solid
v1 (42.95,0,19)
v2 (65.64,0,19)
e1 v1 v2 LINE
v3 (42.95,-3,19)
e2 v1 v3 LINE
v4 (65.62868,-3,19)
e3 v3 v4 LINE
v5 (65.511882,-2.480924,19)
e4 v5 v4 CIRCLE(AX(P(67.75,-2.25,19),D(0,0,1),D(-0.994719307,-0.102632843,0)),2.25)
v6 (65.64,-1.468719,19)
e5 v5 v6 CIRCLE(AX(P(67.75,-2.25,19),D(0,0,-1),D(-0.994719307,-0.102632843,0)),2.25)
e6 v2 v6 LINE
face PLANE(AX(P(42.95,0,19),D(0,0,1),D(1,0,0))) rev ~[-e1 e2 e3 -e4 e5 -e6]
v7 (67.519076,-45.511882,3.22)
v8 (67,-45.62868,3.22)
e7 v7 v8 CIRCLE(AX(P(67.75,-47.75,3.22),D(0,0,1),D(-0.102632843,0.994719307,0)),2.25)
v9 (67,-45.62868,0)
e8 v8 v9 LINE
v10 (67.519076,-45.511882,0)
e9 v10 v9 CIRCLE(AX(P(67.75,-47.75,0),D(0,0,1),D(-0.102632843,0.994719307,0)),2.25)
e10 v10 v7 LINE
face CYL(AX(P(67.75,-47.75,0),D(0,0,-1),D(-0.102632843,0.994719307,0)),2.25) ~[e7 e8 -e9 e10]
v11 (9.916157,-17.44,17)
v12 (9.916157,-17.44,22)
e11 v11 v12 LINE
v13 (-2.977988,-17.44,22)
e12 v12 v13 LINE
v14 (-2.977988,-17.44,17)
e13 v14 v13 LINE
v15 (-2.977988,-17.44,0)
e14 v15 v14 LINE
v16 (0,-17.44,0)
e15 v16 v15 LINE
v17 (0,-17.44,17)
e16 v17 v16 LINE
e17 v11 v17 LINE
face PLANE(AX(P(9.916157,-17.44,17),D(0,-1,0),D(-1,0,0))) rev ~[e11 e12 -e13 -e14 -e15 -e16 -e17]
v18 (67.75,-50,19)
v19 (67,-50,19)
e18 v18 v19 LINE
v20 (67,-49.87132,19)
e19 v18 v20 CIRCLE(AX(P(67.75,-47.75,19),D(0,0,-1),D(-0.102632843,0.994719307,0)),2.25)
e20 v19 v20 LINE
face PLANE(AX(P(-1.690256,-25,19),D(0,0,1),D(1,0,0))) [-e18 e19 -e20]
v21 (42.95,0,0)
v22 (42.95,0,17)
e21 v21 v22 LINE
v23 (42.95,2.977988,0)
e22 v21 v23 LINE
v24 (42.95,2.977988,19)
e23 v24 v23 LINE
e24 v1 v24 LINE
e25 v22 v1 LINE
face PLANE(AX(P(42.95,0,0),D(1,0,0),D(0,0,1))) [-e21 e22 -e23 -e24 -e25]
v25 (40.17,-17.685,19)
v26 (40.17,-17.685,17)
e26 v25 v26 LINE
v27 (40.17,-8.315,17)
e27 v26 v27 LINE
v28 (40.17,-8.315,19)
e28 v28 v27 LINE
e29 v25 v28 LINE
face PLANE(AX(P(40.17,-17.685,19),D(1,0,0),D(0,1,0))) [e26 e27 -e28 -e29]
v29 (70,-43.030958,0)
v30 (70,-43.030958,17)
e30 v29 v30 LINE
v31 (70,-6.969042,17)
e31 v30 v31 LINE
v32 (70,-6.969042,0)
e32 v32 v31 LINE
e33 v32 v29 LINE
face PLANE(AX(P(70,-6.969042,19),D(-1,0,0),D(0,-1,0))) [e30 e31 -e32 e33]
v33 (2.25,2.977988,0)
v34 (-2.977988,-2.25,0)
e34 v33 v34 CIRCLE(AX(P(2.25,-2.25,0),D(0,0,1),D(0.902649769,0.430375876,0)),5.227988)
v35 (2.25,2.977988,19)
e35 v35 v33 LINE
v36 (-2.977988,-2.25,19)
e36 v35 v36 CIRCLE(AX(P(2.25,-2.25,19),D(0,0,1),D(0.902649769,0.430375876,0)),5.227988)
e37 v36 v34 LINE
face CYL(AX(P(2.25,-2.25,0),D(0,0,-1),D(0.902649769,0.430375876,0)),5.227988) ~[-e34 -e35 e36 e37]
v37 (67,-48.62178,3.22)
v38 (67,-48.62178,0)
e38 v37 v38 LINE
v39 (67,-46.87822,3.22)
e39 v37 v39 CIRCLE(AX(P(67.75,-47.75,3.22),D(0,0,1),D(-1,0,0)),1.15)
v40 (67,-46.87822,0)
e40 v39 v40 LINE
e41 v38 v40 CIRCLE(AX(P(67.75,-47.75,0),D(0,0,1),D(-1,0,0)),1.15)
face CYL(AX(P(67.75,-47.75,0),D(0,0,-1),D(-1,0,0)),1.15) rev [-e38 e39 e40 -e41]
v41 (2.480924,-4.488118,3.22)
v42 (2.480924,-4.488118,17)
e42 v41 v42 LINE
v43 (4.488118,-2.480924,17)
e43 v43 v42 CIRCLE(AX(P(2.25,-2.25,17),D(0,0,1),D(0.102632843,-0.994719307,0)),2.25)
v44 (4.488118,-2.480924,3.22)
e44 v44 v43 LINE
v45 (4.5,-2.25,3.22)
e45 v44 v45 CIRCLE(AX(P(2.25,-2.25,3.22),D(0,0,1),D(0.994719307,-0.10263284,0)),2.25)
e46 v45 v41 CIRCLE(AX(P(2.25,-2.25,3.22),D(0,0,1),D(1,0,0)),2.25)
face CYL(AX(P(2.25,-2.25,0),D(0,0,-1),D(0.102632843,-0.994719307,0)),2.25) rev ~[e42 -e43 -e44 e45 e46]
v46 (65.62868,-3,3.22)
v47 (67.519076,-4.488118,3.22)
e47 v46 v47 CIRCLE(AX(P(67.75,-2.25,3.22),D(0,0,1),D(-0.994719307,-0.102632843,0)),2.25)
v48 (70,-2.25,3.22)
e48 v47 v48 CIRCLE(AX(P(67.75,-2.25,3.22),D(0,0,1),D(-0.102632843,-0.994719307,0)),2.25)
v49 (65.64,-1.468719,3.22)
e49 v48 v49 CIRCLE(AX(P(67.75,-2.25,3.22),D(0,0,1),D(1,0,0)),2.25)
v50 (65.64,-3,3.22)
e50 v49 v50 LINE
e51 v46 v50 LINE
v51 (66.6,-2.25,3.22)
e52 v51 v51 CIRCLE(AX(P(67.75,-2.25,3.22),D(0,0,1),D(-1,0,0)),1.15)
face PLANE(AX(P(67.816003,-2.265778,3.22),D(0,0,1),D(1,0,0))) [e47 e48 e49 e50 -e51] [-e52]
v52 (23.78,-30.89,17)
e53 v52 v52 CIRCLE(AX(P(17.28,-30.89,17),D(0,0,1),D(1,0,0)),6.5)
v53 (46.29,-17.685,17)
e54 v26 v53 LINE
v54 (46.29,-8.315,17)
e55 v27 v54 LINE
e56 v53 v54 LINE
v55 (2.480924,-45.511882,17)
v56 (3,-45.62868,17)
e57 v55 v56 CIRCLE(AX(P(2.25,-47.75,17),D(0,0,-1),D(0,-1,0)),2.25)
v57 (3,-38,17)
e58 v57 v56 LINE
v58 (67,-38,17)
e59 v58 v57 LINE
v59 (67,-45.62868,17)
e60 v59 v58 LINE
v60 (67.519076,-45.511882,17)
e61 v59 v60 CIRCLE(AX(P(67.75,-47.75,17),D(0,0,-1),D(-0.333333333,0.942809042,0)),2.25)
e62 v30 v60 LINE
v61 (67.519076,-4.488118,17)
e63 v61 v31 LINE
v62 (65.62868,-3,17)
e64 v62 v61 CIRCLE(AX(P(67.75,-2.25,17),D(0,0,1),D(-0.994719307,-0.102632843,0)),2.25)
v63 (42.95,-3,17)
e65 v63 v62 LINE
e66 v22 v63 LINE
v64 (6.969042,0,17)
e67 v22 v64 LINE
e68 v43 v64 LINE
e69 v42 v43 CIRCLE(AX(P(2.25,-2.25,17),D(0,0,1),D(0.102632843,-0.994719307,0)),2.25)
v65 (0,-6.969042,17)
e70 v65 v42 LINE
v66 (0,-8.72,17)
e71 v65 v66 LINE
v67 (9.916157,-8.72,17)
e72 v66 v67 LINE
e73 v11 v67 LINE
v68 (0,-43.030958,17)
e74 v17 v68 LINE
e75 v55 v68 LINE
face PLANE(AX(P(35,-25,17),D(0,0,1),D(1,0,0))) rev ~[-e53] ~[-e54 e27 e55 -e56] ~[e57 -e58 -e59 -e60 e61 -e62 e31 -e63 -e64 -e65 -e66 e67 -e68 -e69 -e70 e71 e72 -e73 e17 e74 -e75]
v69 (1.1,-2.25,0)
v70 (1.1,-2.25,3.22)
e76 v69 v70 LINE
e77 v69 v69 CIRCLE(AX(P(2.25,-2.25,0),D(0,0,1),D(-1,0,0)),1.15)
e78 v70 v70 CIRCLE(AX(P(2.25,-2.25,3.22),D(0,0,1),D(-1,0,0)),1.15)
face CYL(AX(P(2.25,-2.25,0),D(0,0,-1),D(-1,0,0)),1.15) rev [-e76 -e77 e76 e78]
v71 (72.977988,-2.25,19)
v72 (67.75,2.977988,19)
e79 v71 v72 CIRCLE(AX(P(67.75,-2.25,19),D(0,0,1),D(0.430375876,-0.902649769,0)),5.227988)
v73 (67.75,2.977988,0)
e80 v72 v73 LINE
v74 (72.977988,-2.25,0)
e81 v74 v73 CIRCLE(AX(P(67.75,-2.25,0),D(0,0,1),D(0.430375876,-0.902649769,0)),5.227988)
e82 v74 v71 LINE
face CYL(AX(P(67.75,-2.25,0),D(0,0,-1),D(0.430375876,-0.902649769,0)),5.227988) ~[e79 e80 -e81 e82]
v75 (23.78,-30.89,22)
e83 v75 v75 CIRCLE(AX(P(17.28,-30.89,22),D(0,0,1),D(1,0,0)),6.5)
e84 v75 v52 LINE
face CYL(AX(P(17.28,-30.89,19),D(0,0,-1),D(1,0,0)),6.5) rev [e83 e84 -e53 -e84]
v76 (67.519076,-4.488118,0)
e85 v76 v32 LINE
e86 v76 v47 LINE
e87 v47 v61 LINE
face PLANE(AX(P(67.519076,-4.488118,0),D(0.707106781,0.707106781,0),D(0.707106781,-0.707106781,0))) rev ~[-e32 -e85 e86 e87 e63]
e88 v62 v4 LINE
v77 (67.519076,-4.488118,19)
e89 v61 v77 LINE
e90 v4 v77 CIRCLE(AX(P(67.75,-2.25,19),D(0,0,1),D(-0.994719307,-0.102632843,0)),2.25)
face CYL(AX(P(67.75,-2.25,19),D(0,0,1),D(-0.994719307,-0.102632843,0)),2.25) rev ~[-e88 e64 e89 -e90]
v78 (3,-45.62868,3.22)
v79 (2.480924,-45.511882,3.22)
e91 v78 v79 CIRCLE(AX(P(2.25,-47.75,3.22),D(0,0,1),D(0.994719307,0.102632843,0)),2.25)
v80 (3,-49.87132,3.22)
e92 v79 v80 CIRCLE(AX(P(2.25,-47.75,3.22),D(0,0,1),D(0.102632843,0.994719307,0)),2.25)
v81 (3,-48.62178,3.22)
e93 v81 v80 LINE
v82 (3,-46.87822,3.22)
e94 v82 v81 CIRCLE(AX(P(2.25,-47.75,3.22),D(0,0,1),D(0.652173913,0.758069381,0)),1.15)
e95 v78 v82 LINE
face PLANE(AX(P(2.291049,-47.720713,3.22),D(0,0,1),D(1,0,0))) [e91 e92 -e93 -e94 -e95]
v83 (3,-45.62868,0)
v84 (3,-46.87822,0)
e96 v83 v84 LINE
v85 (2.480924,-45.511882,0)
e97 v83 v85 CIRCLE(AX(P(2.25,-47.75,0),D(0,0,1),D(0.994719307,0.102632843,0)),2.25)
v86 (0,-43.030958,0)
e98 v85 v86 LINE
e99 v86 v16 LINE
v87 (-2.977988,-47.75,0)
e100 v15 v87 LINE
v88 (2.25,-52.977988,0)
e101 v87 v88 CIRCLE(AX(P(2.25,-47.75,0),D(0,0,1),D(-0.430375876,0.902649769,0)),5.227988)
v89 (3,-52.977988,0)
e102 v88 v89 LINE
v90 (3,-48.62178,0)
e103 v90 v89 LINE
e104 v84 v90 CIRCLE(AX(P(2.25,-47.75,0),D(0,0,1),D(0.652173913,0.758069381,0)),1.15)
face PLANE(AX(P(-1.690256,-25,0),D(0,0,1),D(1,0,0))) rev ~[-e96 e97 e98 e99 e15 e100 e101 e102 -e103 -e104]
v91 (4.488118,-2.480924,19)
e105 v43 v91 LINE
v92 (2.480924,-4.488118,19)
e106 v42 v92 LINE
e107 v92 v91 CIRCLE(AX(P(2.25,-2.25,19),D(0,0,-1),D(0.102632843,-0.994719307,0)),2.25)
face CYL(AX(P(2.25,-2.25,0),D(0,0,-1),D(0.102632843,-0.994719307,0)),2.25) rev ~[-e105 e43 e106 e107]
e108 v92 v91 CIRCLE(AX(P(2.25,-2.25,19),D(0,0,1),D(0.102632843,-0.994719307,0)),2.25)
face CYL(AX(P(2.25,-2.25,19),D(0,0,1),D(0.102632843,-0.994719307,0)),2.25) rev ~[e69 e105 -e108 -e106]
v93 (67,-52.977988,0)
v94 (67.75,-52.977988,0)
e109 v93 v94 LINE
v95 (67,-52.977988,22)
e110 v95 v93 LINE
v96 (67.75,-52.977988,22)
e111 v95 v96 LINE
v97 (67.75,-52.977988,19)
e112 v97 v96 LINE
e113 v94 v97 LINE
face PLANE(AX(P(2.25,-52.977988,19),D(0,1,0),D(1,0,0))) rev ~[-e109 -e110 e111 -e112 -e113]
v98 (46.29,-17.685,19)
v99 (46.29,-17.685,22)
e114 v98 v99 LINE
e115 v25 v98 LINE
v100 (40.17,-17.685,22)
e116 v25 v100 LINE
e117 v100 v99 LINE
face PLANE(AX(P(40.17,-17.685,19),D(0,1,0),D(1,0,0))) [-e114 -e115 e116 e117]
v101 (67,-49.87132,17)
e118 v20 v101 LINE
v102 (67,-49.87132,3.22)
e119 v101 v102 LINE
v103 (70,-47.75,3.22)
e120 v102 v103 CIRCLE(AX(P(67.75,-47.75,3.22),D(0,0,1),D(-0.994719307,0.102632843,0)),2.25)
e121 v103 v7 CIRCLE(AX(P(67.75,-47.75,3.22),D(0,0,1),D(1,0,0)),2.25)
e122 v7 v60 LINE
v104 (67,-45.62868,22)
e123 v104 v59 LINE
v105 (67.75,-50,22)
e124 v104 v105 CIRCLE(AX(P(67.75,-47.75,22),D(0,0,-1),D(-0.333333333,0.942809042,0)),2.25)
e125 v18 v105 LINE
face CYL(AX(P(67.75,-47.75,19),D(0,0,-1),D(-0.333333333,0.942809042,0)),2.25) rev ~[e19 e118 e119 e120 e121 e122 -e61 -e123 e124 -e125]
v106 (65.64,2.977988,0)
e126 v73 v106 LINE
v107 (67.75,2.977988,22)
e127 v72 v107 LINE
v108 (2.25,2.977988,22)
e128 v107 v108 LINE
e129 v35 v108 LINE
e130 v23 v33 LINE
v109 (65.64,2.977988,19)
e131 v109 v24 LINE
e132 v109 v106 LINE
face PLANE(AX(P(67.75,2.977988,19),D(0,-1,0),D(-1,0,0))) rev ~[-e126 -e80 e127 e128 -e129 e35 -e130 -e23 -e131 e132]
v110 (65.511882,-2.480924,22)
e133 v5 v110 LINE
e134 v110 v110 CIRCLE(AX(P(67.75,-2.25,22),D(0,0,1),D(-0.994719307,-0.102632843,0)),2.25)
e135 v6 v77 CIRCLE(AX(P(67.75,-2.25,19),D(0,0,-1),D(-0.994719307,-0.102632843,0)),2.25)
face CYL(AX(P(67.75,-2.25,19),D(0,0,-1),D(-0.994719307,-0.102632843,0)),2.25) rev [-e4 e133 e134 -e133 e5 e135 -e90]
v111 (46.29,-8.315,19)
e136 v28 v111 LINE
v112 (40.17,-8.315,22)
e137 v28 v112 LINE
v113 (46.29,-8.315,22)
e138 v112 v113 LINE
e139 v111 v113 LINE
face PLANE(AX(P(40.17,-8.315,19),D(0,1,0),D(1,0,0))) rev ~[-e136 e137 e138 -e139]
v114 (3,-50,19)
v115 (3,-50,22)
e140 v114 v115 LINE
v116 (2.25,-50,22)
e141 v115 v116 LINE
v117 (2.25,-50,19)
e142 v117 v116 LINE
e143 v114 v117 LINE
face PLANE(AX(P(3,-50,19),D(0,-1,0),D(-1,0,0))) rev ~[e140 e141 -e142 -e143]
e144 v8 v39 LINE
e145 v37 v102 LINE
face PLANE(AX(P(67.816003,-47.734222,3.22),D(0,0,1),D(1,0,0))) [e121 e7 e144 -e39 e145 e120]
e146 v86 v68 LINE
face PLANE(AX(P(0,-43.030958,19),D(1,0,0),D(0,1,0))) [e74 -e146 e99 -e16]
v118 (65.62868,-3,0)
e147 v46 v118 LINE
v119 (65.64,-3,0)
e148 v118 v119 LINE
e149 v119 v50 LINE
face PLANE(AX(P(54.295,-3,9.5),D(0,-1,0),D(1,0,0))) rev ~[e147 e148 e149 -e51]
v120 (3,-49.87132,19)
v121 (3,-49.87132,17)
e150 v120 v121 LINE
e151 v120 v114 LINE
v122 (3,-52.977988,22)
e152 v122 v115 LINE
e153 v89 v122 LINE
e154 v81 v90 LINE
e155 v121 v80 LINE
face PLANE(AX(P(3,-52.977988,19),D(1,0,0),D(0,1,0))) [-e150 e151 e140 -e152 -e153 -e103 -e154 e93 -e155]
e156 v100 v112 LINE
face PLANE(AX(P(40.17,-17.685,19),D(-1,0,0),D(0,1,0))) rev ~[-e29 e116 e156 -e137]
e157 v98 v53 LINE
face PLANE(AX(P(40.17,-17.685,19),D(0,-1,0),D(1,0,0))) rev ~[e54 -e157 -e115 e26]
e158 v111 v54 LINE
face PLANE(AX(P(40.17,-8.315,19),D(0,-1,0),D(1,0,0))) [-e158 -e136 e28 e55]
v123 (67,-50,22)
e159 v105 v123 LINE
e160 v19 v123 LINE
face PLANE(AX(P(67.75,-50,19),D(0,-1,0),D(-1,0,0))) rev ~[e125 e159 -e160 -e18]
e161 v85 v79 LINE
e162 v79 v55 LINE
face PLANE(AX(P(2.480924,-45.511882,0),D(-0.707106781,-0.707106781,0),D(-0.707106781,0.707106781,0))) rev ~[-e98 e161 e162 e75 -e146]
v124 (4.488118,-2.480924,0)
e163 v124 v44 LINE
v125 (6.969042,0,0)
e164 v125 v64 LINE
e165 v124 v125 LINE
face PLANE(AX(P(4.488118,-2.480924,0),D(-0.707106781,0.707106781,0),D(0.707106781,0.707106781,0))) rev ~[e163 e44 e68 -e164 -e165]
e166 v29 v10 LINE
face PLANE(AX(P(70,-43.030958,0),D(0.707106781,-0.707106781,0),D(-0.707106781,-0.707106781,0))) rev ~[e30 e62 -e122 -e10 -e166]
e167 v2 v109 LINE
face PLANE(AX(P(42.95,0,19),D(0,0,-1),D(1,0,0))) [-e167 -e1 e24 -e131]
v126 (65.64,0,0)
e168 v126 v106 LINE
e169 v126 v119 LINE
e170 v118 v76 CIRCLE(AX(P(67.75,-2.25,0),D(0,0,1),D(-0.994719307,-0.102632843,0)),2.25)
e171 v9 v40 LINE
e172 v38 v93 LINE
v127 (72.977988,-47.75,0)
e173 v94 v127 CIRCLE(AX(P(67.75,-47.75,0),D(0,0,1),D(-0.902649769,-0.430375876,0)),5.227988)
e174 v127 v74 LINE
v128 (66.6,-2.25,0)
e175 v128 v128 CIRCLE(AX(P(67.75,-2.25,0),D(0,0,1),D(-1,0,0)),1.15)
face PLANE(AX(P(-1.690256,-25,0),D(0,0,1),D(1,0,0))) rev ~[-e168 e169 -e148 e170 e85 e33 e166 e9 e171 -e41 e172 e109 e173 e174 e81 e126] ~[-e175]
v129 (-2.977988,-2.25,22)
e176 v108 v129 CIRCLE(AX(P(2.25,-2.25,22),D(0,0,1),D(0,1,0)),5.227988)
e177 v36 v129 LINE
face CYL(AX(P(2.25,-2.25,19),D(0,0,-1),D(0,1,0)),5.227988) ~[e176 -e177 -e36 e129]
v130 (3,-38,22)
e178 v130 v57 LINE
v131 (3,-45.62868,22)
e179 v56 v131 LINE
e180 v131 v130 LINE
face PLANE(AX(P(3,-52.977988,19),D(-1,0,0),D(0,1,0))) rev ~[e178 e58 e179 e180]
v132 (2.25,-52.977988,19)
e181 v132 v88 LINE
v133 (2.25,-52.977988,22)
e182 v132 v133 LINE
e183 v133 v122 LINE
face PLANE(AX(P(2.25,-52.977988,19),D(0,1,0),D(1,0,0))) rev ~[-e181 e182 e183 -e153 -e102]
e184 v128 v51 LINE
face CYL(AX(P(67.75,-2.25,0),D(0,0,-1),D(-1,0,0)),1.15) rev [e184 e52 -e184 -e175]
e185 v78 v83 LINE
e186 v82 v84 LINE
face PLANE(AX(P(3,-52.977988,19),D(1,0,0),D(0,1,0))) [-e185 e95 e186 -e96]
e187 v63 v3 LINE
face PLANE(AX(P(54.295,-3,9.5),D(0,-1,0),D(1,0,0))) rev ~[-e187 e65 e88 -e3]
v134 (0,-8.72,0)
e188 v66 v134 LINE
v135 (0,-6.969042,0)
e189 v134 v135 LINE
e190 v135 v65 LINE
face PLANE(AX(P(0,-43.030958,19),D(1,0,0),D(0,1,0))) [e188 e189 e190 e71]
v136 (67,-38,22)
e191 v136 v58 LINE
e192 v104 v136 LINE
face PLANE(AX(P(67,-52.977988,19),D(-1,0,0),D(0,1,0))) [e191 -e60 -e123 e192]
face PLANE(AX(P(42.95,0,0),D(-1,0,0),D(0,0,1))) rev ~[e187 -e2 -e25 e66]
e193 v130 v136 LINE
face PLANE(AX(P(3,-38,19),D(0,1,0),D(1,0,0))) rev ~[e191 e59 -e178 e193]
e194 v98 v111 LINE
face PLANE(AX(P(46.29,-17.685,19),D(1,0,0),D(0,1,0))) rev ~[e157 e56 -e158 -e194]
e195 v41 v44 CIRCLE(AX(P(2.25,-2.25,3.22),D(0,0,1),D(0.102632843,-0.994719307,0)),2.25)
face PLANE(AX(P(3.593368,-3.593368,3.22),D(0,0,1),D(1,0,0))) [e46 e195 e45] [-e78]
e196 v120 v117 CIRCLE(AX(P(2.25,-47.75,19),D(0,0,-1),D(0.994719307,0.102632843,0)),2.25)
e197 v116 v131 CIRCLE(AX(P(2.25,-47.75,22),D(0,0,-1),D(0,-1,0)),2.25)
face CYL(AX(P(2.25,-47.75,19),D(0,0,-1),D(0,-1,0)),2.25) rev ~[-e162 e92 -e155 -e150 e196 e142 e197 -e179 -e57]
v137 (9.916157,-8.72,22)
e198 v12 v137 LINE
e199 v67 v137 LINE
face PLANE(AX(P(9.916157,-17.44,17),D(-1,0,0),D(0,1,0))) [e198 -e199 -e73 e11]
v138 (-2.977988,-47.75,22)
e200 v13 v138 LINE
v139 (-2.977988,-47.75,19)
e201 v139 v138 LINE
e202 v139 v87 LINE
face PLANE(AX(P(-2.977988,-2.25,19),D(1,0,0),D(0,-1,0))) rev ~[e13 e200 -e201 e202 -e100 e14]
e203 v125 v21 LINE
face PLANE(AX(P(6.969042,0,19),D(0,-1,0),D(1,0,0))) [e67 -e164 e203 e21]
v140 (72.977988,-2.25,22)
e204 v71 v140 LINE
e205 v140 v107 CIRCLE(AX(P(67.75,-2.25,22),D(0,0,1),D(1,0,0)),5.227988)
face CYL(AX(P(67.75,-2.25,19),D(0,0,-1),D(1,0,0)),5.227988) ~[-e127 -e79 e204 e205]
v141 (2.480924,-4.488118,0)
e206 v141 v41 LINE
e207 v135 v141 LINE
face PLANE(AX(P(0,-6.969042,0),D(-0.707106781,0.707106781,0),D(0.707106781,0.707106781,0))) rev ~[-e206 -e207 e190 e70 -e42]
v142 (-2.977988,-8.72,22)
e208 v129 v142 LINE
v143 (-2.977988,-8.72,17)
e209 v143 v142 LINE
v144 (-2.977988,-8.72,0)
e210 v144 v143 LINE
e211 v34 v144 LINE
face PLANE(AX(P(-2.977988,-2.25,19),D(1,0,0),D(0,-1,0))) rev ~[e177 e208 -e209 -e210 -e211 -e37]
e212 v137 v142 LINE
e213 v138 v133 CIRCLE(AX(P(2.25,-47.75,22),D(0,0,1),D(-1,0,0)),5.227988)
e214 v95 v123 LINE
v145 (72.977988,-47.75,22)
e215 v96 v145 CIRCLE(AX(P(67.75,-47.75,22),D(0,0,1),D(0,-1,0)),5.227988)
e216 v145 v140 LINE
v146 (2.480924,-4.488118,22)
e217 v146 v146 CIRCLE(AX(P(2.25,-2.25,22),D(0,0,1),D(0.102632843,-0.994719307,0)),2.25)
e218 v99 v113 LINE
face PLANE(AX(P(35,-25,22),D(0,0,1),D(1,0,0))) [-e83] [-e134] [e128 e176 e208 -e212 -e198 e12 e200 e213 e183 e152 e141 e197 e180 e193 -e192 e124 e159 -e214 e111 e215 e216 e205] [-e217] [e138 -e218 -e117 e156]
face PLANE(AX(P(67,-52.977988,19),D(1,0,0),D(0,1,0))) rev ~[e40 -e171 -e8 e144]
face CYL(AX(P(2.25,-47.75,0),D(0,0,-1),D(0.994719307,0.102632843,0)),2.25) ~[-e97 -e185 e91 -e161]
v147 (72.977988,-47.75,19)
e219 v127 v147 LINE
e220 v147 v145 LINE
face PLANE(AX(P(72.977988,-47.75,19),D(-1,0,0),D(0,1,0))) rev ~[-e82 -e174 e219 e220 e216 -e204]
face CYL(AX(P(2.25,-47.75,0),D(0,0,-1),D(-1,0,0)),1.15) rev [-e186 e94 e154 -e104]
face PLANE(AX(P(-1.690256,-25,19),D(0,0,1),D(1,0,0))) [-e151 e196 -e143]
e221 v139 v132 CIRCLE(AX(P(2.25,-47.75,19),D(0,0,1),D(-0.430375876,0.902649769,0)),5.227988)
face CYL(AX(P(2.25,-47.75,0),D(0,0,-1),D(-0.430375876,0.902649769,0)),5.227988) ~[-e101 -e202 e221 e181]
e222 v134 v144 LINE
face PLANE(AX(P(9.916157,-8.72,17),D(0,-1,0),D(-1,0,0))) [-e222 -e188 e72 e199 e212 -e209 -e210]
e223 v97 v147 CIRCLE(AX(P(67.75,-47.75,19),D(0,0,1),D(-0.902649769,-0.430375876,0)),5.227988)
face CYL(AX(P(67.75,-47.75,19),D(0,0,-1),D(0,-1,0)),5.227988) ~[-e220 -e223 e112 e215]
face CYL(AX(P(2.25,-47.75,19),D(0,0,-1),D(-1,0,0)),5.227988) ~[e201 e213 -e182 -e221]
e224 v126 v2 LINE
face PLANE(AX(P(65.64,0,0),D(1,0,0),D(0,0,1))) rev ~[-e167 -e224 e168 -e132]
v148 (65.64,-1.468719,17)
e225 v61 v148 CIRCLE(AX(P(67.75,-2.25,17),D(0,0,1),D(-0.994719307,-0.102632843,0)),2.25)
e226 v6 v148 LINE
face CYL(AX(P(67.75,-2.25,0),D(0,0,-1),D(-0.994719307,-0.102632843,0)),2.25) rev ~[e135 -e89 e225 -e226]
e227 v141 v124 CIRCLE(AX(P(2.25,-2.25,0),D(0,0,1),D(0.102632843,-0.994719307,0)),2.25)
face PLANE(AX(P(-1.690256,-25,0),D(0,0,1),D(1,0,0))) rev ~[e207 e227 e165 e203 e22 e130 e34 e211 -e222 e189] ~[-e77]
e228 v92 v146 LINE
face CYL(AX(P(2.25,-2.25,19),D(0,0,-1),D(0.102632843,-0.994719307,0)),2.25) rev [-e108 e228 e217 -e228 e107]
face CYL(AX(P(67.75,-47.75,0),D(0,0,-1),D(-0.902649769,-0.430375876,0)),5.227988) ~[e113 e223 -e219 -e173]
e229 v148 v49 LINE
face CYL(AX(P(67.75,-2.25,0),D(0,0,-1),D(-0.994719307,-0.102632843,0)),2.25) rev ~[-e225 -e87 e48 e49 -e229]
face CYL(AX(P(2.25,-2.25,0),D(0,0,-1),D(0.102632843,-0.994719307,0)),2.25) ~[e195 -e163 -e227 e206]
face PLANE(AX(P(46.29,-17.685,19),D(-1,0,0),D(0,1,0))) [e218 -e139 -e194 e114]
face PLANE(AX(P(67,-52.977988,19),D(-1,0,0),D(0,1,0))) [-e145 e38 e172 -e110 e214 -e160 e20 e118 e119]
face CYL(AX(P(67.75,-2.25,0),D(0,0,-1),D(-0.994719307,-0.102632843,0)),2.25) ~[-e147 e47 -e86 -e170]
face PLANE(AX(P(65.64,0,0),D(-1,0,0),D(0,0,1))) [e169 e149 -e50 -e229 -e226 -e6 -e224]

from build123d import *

# Parameters (mm, degrees)
SKETCH1_R                       = 1.15
BOSS_EXTRUDE4_DEPTH             = 3.22
BOSS_EXTRUDE5_DEPTH             = 19
BOSS_EXTRUDE6_DEPTH             = 19
SKETCH3_W                       = 19
SKETCH3_H                       = 8.72
CUT_EXTRUDE1_DEPTH              = 93.159937036
SKETCH2_5_R                     = 6.5
SKETCH2_5_R_2                   = 2.25
SKETCH2_5_W                     = 6.12
SKETCH2_5_H                     = 9.37
BOSS_EXTRUDE9_DEPTH             = 3
BOSS_EXTRUDE9_DEPTH_BACK        = 2
CUT_EXTRUDE8_REACH              = 94.16
SKETCH2_6_W                     = 64
SKETCH2_6_H                     = 14.977988196
CUT_EXTRUDE8_DIRECTION_2_REACH  = 94.16
CUT_EXTRUDE10_REACH             = 94.825
SKETCH4_W                       = 22.69
SKETCH4_H                       = 19
CUT_EXTRUDE10_DIRECTION_2_DEPTH = 3
CUT_EXTRUDE11_REACH             = 93.768
SKETCH5_W                       = 12.894145303
SKETCH5_H                       = 8.72


with BuildPart() as part:
    # Sketch1 → Boss-Extrude4 (new body)
    with BuildSketch(Plane.XY):
        with BuildLine():
            ThreePointArc((2.480923897, -4.488118441), (3.840990258, -3.840990258), (4.488118441, -2.480923897))
            Line((4.488118441, -2.480923897), (2.480923897, -4.488118441))
        make_face()
        with BuildLine():
            Line((2.480923897, -4.488118441), (4.488118441, -2.480923897))
            ThreePointArc((4.488118441, -2.480923897), (4.497027647, -2.365614681), (4.5, -2.25))
            ThreePointArc((4.5, -2.25), (0.579359589, -0.742863438), (2.480923897, -4.488118441))
        make_face()
        with Locations(Location((2.25, -2.25, 0), (0, 0, 180))):
            Circle(SKETCH1_R, mode=Mode.SUBTRACT)
        with BuildLine():
            ThreePointArc((4.5, -47.75), (4.497027647, -47.634385319), (4.488118441, -47.519076103))
            Line((4.488118441, -47.519076103), (2.480923897, -45.511881559))
            ThreePointArc((2.480923897, -45.511881559), (0.579359589, -49.257136562), (4.5, -47.75))
        make_face()
        with Locations(Location((2.25, -47.75, 0), (0, 0, 180))):
            Circle(SKETCH1_R, mode=Mode.SUBTRACT)
        with BuildLine():
            Line((2.480923897, -45.511881559), (4.488118441, -47.519076103))
            ThreePointArc((4.488118441, -47.519076103), (3.840990258, -46.159009742), (2.480923897, -45.511881559))
        make_face()
        with BuildLine():
            Line((67.519076103, -45.511881559), (65.511881559, -47.519076103))
            ThreePointArc((65.511881559, -47.519076103), (67.634385319, -49.997027647), (70, -47.75))
            ThreePointArc((70, -47.75), (69.257136562, -46.079359589), (67.519076103, -45.511881559))
        make_face()
        with Locations(Location((67.75, -47.75, 0), (0, 0, 180))):
            Circle(SKETCH1_R, mode=Mode.SUBTRACT)
        with BuildLine():
            ThreePointArc((67.519076103, -45.511881559), (66.159009742, -46.159009742), (65.511881559, -47.519076103))
            Line((65.511881559, -47.519076103), (67.519076103, -45.511881559))
        make_face()
        with BuildLine():
            ThreePointArc((70, -2.25), (67.634385319, -0.002972353), (65.511881559, -2.480923897))
            Line((65.511881559, -2.480923897), (67.519076103, -4.488118441))
            ThreePointArc((67.519076103, -4.488118441), (69.257136562, -3.920640411), (70, -2.25))
        make_face()
        with Locations(Location((67.75, -2.25, 0), (0, 0, 180))):
            Circle(SKETCH1_R, mode=Mode.SUBTRACT)
        with BuildLine():
            Line((67.519076103, -4.488118441), (65.511881559, -2.480923897))
            ThreePointArc((65.511881559, -2.480923897), (66.159009742, -3.840990258), (67.519076103, -4.488118441))
        make_face()
    extrude(amount=BOSS_EXTRUDE4_DEPTH)

    # Sketch1<6> → Boss-Extrude5 (add)
    with BuildSketch(Plane.XY):
        with BuildLine():
            Line((65.511881559, -47.519076103), (63.030957663, -50))
            ThreePointArc((63.030957663, -50), (71.446745906, -51.446745906), (70, -43.030957663))
            Line((70, -43.030957663), (67.519076103, -45.511881559))
            ThreePointArc((67.519076103, -45.511881559), (69.340990258, -49.340990258), (65.511881559, -47.519076103))
        make_face()
        with BuildLine():
            ThreePointArc((70, -6.969042337), (71.446745906, 1.446745906), (63.030957663, 0))
            Line((63.030957663, 0), (65.511881559, -2.480923897))
            ThreePointArc((65.511881559, -2.480923897), (69.340990258, -0.659009742), (67.519076103, -4.488118441))
            Line((67.519076103, -4.488118441), (70, -6.969042337))
        make_face()
        with BuildLine():
            Line((4.488118441, -2.480923897), (6.969042337, 0))
            ThreePointArc((6.969042337, 0), (-1.446745906, 1.446745906), (0, -6.969042337))
            Line((0, -6.969042337), (2.480923897, -4.488118441))
            ThreePointArc((2.480923897, -4.488118441), (0.659009742, -0.659009742), (4.488118441, -2.480923897))
        make_face()
        with BuildLine():
            ThreePointArc((0, -43.030957663), (-1.446745906, -51.446745906), (6.969042337, -50))
            Line((6.969042337, -50), (4.488118441, -47.519076103))
            ThreePointArc((4.488118441, -47.519076103), (0.659009742, -49.340990258), (2.480923897, -45.511881559))
            Line((2.480923897, -45.511881559), (0, -43.030957663))
        make_face()
    extrude(amount=BOSS_EXTRUDE5_DEPTH)

    # Sketch2 → Boss-Extrude6 (add)
    with BuildSketch(Plane.XY.offset(19)):
        with BuildLine():
            Line((0, -43.030957663), (0, -6.969042337))
            ThreePointArc((0, -6.969042337), (-2.171246093, -5.040061571), (-2.977988196, -2.25))
            Line((-2.977988196, -2.25), (-2.977988196, -47.75))
            ThreePointArc((-2.977988196, -47.75), (-2.171246093, -44.959938429), (0, -43.030957663))
        make_face()
        with BuildLine():
            Line((67.75, 2.977988196), (2.25, 2.977988196))
            ThreePointArc((2.25, 2.977988196), (5.040061571, 2.171246093), (6.969042337, 0))
            Line((6.969042337, 0), (63.030957663, 0))
            ThreePointArc((63.030957663, 0), (64.959938429, 2.171246093), (67.75, 2.977988196))
        make_face()
        with BuildLine():
            Line((2.25, -52.977988196), (67.75, -52.977988196))
            ThreePointArc((67.75, -52.977988196), (64.959938429, -52.171246093), (63.030957663, -50))
            Line((63.030957663, -50), (6.969042337, -50))
            ThreePointArc((6.969042337, -50), (5.040061571, -52.171246093), (2.25, -52.977988196))
        make_face()
        with BuildLine():
            Line((72.977988196, -47.75), (72.977988196, -2.25))
            ThreePointArc((72.977988196, -2.25), (72.171246093, -5.040061571), (70, -6.969042337))
            Line((70, -6.969042337), (70, -43.030957663))
            ThreePointArc((70, -43.030957663), (72.171246093, -44.959938429), (72.977988196, -47.75))
        make_face()
    extrude(amount=-BOSS_EXTRUDE6_DEPTH)

    # Sketch3 → Cut-Extrude1 (cut, through all)
    with BuildSketch(Plane(origin=(0, 0, 0), x_dir=(0, 0, -1), z_dir=(1, 0, 0))):
        with Locations((-9.5, -13.08)):
            Rectangle(SKETCH3_W, SKETCH3_H)
    extrude(amount=-CUT_EXTRUDE1_DEPTH, mode=Mode.SUBTRACT)

    # Sketch2<5> → Boss-Extrude9 (add, two sides)
    with BuildSketch(Plane.XY.offset(19)) as boss_extrude9_sk:
        with BuildLine():
            Line((2.25, -52.977988196), (67.75, -52.977988196))
            ThreePointArc((67.75, -52.977988196), (71.446745906, -51.446745906), (72.977988196, -47.75))
            Line((72.977988196, -47.75), (72.977988196, -2.25))
            ThreePointArc((72.977988196, -2.25), (71.446745906, 1.446745906), (67.75, 2.977988196))
            Line((67.75, 2.977988196), (2.25, 2.977988196))
            ThreePointArc((2.25, 2.977988196), (-1.446745906, 1.446745906), (-2.977988196, -2.25))
            Line((-2.977988196, -2.25), (-2.977988196, -47.75))
            ThreePointArc((-2.977988196, -47.75), (-1.446745906, -51.446745906), (2.25, -52.977988196))
        make_face()
        with BuildLine():
            Line((3, -50), (2.25, -50))
            ThreePointArc((2.25, -50), (0.032403241, -47.369520548), (3, -45.628679656))
            Line((3, -45.628679656), (3, -50))
        make_face(mode=Mode.SUBTRACT)
        with Locations((17.28, -30.89)):
            Circle(SKETCH2_5_R, mode=Mode.SUBTRACT)
        with BuildLine():
            ThreePointArc((67, -45.628679656), (69.967596759, -47.369520548), (67.75, -50))
            Line((67.75, -50), (67, -50))
            Line((67, -50), (67, -45.628679656))
        make_face(mode=Mode.SUBTRACT)
        with Locations(Location((2.25, -2.25, 0), (0, 0, 275.890801568))):
            Circle(SKETCH2_5_R_2, mode=Mode.SUBTRACT)
        with Locations((43.23, -13)):
            Rectangle(SKETCH2_5_W, SKETCH2_5_H, mode=Mode.SUBTRACT)
        with Locations(Location((67.75, -2.25, 0), (0, 0, 185.890801568))):
            Circle(SKETCH2_5_R_2, mode=Mode.SUBTRACT)
    extrude(amount=BOSS_EXTRUDE9_DEPTH)
    extrude(boss_extrude9_sk.sketch, amount=-BOSS_EXTRUDE9_DEPTH_BACK)

    # Sketch2<6> → Cut-Extrude8 (cut, up to next)
    with BuildSketch(Plane.XY.offset(19), mode=Mode.PRIVATE) as cut_extrude8_sk1:
        with Locations((35, -45.488994098)):
            Rectangle(SKETCH2_6_W, SKETCH2_6_H)
    cut_extrude8_tool1 = extrude(cut_extrude8_sk1.sketch, amount=-CUT_EXTRUDE8_REACH, mode=Mode.PRIVATE) & part.part
    add(cut_extrude8_tool1.solids().sort_by_distance((35, -45.488994, 19))[0], mode=Mode.SUBTRACT)

    # Sketch2<6> → Cut-Extrude8 direction 2 (cut, up to next)
    with BuildSketch(Plane.XY.offset(19), mode=Mode.PRIVATE) as cut_extrude8_direction_2_sk1:
        with Locations((35, -45.488994098)):
            Rectangle(SKETCH2_6_W, SKETCH2_6_H)
    cut_extrude8_direction_2_tool1 = extrude(cut_extrude8_direction_2_sk1.sketch, amount=CUT_EXTRUDE8_DIRECTION_2_REACH, mode=Mode.PRIVATE) & part.part
    add(cut_extrude8_direction_2_tool1.solids().sort_by_distance((35, -45.488994, 19))[0], mode=Mode.SUBTRACT)

    # Sketch4 → Cut-Extrude10 (cut, up to next)
    with BuildSketch(Plane.XZ, mode=Mode.PRIVATE) as cut_extrude10_sk1:
        with Locations((54.295, 9.5)):
            Rectangle(SKETCH4_W, SKETCH4_H)
    cut_extrude10_tool1 = extrude(cut_extrude10_sk1.sketch, amount=-CUT_EXTRUDE10_REACH, mode=Mode.PRIVATE) & part.part
    add(cut_extrude10_tool1.solids().sort_by_distance((54.295, 0, 9.5))[0], mode=Mode.SUBTRACT)

    # Sketch4 → Cut-Extrude10 direction 2 (cut)
    with BuildSketch(Plane.XZ):
        with Locations((54.295, 9.5)):
            Rectangle(SKETCH4_W, SKETCH4_H)
    extrude(amount=CUT_EXTRUDE10_DIRECTION_2_DEPTH, mode=Mode.SUBTRACT)

    # Sketch5 → Cut-Extrude11 (cut, up to next)
    with BuildSketch(Plane(origin=(0, 0, 17), x_dir=(-1, 0, 0), z_dir=(0, 0, -1)), mode=Mode.PRIVATE) as cut_extrude11_sk1:
        with Locations((-3.469084455, -13.08)):
            Rectangle(SKETCH5_W, SKETCH5_H)
    cut_extrude11_tool1 = extrude(cut_extrude11_sk1.sketch, amount=-CUT_EXTRUDE11_REACH, mode=Mode.PRIVATE) & part.part
    add(cut_extrude11_tool1.solids().sort_by_distance((3.469084, -13.08, 17))[0], mode=Mode.SUBTRACT)


solid = part.part
